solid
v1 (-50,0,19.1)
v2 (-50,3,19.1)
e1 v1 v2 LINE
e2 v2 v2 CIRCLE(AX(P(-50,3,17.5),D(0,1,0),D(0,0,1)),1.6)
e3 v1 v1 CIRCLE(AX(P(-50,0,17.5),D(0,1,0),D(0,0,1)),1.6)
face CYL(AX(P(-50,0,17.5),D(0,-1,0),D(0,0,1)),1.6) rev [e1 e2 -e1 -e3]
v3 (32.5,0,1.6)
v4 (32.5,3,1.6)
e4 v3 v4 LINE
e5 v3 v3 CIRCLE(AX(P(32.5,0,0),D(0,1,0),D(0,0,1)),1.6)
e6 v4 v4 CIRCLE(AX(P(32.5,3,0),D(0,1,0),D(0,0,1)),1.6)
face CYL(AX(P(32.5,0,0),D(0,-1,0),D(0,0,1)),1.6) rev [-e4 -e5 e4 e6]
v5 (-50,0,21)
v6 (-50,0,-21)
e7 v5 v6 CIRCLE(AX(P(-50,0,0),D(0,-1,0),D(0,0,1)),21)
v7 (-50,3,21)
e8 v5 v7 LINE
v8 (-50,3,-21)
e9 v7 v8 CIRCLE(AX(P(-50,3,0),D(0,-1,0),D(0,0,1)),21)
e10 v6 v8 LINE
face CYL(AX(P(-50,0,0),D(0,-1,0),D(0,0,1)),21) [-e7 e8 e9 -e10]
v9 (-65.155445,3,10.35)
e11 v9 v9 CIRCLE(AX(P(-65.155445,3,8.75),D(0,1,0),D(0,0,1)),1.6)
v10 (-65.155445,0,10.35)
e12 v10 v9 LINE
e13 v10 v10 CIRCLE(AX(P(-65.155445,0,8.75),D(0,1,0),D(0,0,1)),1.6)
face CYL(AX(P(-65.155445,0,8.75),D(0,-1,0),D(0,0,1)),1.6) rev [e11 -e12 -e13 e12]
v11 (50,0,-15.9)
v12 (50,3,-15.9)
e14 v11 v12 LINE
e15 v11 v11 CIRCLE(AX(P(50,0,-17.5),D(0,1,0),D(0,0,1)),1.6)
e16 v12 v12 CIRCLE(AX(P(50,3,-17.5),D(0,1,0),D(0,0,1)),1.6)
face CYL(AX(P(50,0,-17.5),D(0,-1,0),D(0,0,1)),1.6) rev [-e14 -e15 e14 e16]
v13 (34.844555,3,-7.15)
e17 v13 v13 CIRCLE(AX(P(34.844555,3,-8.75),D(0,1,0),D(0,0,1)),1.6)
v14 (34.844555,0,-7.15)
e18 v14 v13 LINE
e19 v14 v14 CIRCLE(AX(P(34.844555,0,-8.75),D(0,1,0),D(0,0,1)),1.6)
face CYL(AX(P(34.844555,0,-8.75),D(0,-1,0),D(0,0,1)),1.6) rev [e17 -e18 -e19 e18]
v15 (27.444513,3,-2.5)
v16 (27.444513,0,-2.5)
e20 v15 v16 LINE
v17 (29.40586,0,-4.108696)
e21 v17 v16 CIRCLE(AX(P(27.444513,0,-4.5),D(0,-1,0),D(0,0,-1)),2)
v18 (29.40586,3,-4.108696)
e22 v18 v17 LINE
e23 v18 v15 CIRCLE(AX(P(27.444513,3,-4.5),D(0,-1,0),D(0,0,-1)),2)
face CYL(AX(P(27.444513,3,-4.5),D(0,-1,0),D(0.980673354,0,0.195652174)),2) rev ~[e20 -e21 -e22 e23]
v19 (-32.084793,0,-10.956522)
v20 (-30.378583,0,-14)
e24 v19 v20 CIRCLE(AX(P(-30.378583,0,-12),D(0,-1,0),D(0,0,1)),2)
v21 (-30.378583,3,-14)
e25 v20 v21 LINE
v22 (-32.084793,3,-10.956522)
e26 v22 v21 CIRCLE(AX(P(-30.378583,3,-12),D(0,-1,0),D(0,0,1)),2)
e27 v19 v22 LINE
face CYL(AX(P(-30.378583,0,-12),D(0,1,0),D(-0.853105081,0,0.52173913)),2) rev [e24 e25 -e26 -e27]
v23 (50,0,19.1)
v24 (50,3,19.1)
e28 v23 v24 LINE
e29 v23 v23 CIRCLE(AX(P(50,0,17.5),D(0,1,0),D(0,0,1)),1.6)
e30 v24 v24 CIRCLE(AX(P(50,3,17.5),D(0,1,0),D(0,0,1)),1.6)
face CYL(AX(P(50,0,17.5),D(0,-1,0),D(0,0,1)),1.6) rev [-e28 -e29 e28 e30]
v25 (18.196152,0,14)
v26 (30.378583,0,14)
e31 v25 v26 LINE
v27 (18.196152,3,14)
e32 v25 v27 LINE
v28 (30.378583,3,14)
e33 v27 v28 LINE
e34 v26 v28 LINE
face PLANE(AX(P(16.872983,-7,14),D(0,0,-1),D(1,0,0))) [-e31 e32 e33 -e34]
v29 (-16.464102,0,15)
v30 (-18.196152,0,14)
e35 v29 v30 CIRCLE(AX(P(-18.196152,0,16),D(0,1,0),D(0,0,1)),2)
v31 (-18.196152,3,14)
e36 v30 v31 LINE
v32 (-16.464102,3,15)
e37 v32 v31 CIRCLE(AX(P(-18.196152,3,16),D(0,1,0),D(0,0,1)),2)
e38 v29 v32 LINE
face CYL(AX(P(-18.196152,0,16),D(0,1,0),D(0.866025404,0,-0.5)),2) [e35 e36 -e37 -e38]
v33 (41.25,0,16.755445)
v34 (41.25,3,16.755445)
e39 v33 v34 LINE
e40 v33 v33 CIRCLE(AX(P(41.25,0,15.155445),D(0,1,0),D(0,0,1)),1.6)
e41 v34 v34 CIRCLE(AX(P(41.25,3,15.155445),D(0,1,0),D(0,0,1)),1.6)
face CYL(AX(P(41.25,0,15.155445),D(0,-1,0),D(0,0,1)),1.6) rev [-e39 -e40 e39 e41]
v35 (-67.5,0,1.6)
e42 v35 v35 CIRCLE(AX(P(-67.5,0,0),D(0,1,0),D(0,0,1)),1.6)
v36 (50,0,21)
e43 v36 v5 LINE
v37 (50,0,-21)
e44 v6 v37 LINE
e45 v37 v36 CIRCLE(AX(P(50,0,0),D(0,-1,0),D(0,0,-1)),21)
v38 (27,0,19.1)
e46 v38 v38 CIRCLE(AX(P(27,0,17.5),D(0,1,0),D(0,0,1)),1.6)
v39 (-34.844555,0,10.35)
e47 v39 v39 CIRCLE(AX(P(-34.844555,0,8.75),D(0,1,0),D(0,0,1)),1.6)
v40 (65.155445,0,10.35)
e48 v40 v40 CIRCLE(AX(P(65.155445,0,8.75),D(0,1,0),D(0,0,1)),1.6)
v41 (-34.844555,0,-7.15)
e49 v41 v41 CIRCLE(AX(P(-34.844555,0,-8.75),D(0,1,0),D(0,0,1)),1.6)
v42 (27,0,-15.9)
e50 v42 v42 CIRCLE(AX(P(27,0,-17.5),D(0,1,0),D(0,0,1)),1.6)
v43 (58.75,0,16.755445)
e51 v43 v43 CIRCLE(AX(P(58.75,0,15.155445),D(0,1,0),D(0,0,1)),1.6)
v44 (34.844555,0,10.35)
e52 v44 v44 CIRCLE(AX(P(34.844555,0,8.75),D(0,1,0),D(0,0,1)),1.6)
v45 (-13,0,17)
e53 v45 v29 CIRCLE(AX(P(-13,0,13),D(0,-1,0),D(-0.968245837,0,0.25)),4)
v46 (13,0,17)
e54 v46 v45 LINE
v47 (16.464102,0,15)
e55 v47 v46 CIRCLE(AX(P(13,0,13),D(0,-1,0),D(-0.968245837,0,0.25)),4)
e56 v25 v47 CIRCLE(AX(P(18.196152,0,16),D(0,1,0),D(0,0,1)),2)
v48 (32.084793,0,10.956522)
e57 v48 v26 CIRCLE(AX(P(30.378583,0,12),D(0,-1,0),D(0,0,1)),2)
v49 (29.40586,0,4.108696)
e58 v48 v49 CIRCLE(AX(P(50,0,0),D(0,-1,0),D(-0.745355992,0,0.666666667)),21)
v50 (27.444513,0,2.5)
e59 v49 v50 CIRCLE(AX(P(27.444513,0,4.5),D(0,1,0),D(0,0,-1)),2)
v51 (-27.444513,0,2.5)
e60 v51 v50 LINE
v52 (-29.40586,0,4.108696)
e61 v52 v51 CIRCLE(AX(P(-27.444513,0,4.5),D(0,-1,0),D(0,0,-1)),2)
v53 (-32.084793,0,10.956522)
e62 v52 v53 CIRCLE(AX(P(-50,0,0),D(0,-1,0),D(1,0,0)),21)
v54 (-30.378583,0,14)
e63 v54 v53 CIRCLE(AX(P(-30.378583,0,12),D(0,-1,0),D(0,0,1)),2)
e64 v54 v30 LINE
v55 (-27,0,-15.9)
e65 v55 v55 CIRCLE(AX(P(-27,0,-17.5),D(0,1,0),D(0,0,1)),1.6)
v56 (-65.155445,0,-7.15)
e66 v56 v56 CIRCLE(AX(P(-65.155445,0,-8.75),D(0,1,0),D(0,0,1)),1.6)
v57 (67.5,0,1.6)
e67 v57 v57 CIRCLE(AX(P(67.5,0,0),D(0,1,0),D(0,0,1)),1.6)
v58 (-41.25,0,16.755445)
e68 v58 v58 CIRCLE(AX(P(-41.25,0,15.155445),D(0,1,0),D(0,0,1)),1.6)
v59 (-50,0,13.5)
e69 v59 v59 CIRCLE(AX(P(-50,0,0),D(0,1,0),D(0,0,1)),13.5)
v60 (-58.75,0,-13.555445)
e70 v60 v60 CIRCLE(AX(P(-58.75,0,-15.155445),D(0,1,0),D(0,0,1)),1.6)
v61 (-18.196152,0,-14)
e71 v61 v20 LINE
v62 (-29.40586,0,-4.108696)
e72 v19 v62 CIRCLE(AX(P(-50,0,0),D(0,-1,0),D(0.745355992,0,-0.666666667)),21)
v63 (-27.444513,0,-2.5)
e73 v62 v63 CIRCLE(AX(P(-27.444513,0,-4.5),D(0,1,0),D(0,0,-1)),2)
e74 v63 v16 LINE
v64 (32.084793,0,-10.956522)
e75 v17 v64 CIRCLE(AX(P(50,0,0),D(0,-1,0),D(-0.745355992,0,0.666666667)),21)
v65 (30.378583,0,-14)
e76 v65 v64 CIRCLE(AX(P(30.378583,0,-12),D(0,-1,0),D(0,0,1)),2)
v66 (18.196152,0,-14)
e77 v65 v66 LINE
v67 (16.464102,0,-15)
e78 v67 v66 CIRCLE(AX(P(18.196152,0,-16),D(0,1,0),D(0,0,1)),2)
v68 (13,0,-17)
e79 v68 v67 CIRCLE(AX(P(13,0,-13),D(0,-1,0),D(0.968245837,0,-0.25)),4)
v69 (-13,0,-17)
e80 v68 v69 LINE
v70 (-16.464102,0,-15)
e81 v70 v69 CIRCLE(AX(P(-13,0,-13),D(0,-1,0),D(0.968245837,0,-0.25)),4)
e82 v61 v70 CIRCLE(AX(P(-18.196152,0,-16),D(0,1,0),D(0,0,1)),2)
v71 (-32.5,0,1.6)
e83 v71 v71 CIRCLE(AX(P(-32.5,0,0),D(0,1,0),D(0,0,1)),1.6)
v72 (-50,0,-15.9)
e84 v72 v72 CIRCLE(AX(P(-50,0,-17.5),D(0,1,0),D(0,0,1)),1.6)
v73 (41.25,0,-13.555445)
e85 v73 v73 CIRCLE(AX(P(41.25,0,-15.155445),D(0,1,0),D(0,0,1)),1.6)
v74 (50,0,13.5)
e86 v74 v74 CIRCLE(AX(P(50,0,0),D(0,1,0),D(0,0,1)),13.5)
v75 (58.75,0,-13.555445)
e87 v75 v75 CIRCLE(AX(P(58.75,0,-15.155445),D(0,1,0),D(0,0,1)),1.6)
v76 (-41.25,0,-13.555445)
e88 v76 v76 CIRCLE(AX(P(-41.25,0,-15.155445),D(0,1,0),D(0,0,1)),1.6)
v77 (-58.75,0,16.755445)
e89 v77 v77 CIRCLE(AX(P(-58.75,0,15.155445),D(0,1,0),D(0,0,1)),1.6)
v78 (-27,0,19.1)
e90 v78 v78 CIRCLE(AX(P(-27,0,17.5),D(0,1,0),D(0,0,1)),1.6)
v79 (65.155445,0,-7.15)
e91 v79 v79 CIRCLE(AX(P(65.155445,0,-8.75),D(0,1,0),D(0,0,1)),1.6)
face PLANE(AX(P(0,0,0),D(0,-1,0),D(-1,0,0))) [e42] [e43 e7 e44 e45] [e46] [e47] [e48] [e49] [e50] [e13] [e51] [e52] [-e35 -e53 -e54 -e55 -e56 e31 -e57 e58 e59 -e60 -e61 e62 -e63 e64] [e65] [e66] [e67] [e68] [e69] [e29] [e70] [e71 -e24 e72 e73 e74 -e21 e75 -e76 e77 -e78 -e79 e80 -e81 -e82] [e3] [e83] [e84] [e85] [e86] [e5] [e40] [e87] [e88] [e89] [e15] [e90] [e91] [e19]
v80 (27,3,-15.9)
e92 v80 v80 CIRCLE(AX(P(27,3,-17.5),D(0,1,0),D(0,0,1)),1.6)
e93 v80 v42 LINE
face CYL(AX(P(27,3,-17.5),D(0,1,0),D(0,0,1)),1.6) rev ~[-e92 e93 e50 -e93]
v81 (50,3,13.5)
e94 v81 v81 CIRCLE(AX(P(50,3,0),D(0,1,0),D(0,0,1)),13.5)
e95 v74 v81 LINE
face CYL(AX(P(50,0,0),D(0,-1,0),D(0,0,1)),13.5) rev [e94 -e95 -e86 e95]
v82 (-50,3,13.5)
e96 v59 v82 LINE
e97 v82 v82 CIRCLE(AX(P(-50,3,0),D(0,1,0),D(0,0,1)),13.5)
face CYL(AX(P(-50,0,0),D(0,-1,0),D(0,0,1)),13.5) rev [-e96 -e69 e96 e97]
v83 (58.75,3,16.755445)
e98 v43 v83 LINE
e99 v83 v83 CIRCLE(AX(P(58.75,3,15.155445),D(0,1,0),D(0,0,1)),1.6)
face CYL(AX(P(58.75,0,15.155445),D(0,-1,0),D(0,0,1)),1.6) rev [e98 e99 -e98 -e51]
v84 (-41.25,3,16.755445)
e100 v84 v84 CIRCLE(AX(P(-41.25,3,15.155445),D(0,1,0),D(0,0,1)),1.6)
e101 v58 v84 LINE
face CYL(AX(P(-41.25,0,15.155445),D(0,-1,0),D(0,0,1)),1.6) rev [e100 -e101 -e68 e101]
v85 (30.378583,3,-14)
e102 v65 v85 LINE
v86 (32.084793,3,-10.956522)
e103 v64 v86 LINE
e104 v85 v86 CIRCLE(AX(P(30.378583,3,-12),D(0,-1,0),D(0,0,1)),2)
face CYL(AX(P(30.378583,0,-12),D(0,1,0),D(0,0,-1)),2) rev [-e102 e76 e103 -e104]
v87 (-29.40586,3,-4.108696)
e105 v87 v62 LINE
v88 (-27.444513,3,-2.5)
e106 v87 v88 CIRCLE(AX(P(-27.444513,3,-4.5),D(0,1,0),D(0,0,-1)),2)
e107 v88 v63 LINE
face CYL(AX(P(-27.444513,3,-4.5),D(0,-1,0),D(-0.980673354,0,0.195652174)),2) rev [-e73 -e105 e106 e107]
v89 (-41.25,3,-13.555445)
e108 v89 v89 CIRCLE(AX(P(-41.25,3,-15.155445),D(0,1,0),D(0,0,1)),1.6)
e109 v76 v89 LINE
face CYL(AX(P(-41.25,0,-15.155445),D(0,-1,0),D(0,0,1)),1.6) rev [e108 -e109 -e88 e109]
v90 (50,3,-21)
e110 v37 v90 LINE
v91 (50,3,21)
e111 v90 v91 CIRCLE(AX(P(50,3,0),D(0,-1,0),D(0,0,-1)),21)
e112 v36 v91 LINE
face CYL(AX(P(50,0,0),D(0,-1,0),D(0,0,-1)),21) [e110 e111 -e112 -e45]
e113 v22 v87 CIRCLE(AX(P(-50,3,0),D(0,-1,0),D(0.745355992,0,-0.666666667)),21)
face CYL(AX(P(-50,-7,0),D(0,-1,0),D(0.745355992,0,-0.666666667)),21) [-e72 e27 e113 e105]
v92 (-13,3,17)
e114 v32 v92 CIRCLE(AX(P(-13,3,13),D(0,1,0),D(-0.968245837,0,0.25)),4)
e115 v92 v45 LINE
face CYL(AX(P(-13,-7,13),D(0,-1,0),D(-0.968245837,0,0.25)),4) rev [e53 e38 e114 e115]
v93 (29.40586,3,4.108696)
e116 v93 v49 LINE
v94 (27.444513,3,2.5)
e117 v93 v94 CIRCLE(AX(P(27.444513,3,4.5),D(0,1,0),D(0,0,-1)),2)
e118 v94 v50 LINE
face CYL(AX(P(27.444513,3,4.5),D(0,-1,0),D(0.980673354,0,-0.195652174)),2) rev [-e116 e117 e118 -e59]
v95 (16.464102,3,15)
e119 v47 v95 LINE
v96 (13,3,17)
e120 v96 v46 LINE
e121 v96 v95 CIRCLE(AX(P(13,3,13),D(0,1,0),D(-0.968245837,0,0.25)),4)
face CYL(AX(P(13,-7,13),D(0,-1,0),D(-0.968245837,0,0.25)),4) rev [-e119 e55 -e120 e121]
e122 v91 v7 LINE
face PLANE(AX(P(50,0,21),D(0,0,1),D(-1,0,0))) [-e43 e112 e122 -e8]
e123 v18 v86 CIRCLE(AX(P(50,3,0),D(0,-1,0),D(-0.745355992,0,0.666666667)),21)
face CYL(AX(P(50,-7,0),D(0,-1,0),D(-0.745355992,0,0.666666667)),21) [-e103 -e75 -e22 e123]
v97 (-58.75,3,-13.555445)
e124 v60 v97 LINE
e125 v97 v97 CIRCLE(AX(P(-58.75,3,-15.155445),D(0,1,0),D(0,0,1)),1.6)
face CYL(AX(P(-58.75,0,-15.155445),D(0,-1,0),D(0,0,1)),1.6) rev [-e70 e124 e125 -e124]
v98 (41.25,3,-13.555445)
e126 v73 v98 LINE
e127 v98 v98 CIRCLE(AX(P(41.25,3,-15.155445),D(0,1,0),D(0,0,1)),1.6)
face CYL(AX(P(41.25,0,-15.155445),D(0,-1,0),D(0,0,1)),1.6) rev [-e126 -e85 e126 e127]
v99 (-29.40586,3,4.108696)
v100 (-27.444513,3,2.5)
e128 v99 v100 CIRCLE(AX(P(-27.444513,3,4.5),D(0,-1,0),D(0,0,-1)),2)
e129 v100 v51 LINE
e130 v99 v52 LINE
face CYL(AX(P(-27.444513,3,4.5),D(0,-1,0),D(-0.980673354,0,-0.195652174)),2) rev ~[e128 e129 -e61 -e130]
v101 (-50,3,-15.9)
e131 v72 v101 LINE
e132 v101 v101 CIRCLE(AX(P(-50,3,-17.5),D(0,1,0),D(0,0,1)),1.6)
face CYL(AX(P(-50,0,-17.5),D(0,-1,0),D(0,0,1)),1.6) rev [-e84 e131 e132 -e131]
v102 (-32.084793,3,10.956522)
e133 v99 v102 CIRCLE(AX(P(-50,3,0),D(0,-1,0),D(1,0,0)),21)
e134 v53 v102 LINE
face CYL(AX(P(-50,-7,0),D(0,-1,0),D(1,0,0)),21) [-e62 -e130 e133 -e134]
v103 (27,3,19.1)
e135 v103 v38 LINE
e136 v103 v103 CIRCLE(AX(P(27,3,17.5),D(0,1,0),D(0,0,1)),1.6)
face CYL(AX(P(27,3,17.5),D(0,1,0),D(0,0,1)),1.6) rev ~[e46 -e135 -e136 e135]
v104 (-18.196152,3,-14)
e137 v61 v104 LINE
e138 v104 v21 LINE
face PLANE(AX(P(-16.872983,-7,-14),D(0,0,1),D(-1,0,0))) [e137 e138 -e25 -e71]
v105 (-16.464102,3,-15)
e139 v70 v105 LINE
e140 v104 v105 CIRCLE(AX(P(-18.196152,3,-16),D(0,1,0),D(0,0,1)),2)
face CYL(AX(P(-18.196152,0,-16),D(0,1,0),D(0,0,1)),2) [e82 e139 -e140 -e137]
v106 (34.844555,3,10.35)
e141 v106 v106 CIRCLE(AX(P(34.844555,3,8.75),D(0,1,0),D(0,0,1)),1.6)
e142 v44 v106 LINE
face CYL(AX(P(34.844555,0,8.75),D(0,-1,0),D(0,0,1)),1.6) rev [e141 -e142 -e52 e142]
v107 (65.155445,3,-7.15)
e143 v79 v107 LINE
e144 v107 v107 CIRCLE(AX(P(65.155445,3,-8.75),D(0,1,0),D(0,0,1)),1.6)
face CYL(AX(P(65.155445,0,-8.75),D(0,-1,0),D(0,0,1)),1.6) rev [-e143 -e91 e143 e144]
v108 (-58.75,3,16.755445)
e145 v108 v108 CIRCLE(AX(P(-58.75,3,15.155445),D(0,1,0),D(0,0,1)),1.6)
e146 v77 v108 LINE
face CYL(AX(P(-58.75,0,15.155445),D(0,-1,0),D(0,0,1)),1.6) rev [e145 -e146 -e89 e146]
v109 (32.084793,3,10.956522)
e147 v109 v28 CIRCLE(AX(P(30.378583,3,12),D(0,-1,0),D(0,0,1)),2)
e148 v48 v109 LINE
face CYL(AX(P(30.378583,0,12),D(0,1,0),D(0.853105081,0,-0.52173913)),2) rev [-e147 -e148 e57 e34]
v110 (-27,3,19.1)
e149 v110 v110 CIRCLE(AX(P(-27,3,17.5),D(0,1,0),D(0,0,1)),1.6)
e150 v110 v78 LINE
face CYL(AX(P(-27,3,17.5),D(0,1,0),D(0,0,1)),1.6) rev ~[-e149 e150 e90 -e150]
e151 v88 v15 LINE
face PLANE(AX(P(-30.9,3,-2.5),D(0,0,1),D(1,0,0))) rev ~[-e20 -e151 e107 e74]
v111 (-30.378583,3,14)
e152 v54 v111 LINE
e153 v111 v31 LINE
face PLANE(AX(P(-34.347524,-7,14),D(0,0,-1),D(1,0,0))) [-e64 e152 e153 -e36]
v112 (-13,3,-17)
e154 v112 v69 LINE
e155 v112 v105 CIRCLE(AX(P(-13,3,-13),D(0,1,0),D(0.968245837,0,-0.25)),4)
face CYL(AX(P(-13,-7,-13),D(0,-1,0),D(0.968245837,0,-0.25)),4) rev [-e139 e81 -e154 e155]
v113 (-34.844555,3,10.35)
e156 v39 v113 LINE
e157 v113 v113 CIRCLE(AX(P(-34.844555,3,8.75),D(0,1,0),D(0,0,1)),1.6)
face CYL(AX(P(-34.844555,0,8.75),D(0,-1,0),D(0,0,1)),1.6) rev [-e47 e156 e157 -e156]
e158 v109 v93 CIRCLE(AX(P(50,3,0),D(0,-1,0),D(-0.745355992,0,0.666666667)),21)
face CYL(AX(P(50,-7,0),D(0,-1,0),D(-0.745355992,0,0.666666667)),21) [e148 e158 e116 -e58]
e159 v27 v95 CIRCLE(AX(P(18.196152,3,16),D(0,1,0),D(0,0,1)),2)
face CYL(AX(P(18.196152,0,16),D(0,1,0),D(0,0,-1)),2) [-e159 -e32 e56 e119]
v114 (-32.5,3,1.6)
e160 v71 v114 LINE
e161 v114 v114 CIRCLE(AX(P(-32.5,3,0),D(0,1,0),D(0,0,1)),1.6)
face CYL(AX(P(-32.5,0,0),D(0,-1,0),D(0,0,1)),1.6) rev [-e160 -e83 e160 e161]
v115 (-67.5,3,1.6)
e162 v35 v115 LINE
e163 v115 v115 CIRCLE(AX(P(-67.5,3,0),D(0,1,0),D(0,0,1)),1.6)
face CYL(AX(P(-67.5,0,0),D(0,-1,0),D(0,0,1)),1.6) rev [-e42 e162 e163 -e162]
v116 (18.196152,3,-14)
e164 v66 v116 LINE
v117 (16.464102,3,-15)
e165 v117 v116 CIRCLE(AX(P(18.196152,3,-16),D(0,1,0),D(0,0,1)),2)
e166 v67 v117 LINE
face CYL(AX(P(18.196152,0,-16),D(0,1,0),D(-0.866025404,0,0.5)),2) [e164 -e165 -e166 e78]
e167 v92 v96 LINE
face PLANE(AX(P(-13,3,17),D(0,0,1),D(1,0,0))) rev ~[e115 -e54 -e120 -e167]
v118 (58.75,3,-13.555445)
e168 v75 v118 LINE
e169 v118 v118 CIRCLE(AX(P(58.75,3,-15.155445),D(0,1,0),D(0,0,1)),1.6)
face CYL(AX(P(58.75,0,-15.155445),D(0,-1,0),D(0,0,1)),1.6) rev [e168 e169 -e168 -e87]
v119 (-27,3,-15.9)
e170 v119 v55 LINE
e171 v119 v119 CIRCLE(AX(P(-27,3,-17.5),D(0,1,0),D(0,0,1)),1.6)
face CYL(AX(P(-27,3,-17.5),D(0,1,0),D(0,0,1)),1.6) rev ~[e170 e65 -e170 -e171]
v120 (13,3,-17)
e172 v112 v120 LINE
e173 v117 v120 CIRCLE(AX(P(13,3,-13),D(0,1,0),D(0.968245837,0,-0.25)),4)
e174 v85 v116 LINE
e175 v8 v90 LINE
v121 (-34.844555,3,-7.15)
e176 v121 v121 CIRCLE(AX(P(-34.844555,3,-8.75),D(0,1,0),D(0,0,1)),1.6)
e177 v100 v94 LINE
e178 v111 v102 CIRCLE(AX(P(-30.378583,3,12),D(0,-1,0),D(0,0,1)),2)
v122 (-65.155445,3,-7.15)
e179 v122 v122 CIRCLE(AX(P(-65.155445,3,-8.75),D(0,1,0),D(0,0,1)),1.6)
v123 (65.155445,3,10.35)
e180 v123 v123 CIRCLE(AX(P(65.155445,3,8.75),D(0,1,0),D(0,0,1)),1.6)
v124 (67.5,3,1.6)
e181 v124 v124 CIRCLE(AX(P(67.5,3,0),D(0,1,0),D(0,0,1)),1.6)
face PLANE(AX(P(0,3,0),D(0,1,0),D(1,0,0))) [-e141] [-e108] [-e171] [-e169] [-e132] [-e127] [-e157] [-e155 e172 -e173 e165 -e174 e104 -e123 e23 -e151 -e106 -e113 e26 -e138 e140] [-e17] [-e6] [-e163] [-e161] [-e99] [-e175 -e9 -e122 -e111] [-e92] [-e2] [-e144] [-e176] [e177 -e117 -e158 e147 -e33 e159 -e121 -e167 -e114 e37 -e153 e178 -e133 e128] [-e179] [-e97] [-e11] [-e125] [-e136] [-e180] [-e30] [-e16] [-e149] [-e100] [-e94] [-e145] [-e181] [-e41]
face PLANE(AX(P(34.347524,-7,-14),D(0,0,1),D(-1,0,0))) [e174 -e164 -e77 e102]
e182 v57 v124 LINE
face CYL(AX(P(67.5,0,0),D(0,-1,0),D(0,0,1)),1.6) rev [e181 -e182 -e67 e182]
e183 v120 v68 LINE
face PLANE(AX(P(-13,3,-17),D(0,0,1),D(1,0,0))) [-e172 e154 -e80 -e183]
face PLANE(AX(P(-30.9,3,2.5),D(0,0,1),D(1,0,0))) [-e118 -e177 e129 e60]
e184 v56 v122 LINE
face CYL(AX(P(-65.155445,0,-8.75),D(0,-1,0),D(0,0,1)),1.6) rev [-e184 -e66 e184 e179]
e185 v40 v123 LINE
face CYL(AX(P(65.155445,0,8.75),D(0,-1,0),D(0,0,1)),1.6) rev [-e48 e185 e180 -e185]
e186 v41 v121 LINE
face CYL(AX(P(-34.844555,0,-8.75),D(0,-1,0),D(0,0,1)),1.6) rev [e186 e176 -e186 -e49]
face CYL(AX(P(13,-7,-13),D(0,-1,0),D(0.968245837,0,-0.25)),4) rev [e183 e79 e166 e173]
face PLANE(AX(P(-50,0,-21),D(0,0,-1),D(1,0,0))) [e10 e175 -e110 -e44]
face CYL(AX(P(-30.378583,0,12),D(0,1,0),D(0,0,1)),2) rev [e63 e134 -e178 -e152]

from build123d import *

# Parameters (mm, degrees)
SKETCH_1_R          = 13.5
SKETCH_1_R_2        = 1.6
EXTRUDE_1_DEPTH     = 3
CUT_EXTRUDE_START   = -10
CUT_EXTRUDE_1_DEPTH = 10
SKETCH_3_W          = 61.8
SKETCH_3_H          = 5
EXTRUDE_1_2_DEPTH   = 3
FILLET_1_R          = 2
SKETCH_6_W          = 26
SKETCH_6_H          = 5
CUT_EXTRUDE_2_DEPTH = 10
SKETCH_7_R          = 1.6
CUT_EXTRUDE_3_DEPTH = 10


with BuildPart() as part:
    # 草图1 → Extrude 1 (new body)
    with BuildSketch(Plane(origin=(0, 0, 0), x_dir=(1, 0, 0), z_dir=(0, 1, 0))):
        with BuildLine():
            Line((-50, 21), (50, 21))
            ThreePointArc((50, 21), (71, 0), (50, -21))
            Line((50, -21), (-50, -21))
            ThreePointArc((-50, -21), (-71, 0), (-50, 21))
        make_face()
        with Locations(Location((-50, 0, 0), (0, 0, 270))):
            Circle(SKETCH_1_R, mode=Mode.SUBTRACT)
        with Locations(Location((-50, 17.5, 0), (0, 0, 270))):
            Circle(SKETCH_1_R_2, mode=Mode.SUBTRACT)
        with Locations(Location((-13, 13, 0), (0, 0, 270))):
            Circle(SKETCH_1_R_2, mode=Mode.SUBTRACT)
        with Locations(Location((-13, -13, 0), (0, 0, 270))):
            Circle(SKETCH_1_R_2, mode=Mode.SUBTRACT)
        with Locations(Location((-41.25, 15.155444566, 0), (0, 0, 270))):
            Circle(SKETCH_1_R_2, mode=Mode.SUBTRACT)
        with Locations(Location((-34.844555434, 8.75, 0), (0, 0, 270))):
            Circle(SKETCH_1_R_2, mode=Mode.SUBTRACT)
        with Locations(Location((-32.5, 0, 0), (0, 0, 270))):
            Circle(SKETCH_1_R_2, mode=Mode.SUBTRACT)
        with Locations(Location((-34.844555434, -8.75, 0), (0, 0, 270))):
            Circle(SKETCH_1_R_2, mode=Mode.SUBTRACT)
        with Locations(Location((-41.25, -15.155444566, 0), (0, 0, 270))):
            Circle(SKETCH_1_R_2, mode=Mode.SUBTRACT)
        with Locations(Location((-50, -17.5, 0), (0, 0, 270))):
            Circle(SKETCH_1_R_2, mode=Mode.SUBTRACT)
        with Locations(Location((-58.75, -15.155444566, 0), (0, 0, 270))):
            Circle(SKETCH_1_R_2, mode=Mode.SUBTRACT)
        with Locations(Location((-65.155444566, -8.75, 0), (0, 0, 270))):
            Circle(SKETCH_1_R_2, mode=Mode.SUBTRACT)
        with Locations(Location((-67.5, 0, 0), (0, 0, 270))):
            Circle(SKETCH_1_R_2, mode=Mode.SUBTRACT)
        with Locations(Location((-65.155444566, 8.75, 0), (0, 0, 270))):
            Circle(SKETCH_1_R_2, mode=Mode.SUBTRACT)
        with Locations(Location((-58.75, 15.155444566, 0), (0, 0, 270))):
            Circle(SKETCH_1_R_2, mode=Mode.SUBTRACT)
        with Locations(Location((58.75, 15.155444566, 0), (0, 0, 270))):
            Circle(SKETCH_1_R_2, mode=Mode.SUBTRACT)
        with Locations(Location((65.155444566, 8.75, 0), (0, 0, 270))):
            Circle(SKETCH_1_R_2, mode=Mode.SUBTRACT)
        with Locations(Location((67.5, 0, 0), (0, 0, 270))):
            Circle(SKETCH_1_R_2, mode=Mode.SUBTRACT)
        with Locations(Location((65.155444566, -8.75, 0), (0, 0, 270))):
            Circle(SKETCH_1_R_2, mode=Mode.SUBTRACT)
        with Locations(Location((58.75, -15.155444566, 0), (0, 0, 270))):
            Circle(SKETCH_1_R_2, mode=Mode.SUBTRACT)
        with Locations(Location((50, -17.5, 0), (0, 0, 270))):
            Circle(SKETCH_1_R_2, mode=Mode.SUBTRACT)
        with Locations(Location((41.25, -15.155444566, 0), (0, 0, 270))):
            Circle(SKETCH_1_R_2, mode=Mode.SUBTRACT)
        with Locations(Location((34.844555434, -8.75, 0), (0, 0, 270))):
            Circle(SKETCH_1_R_2, mode=Mode.SUBTRACT)
        with Locations(Location((32.5, 0, 0), (0, 0, 270))):
            Circle(SKETCH_1_R_2, mode=Mode.SUBTRACT)
        with Locations(Location((41.25, 15.155444566, 0), (0, 0, 270))):
            Circle(SKETCH_1_R_2, mode=Mode.SUBTRACT)
        with Locations(Location((13, -13, 0), (0, 0, 270))):
            Circle(SKETCH_1_R_2, mode=Mode.SUBTRACT)
        with Locations(Location((13, 13, 0), (0, 0, 270))):
            Circle(SKETCH_1_R_2, mode=Mode.SUBTRACT)
        with Locations(Location((50, 17.5, 0), (0, 0, 270))):
            Circle(SKETCH_1_R_2, mode=Mode.SUBTRACT)
        with Locations(Location((50, 0, 0), (0, 0, 270))):
            Circle(SKETCH_1_R, mode=Mode.SUBTRACT)
        with Locations(Location((34.844555434, 8.75, 0), (0, 0, 270))):
            Circle(SKETCH_1_R_2, mode=Mode.SUBTRACT)
    extrude(amount=EXTRUDE_1_DEPTH)

    # 草图2 → 切除-拉伸1 (cut)
    with BuildSketch(Plane(origin=(0, 3, 0), x_dir=(1, 0, 0), z_dir=(0, 1, 0)).offset(CUT_EXTRUDE_START)):
        with BuildLine():
            Line((-16.872983346, 14), (-34.347524158, 14))
            ThreePointArc((-34.347524158, 14), (-30.382380462, 7.493263885), (-29, 0))
            ThreePointArc((-29, 0), (-30.382380462, -7.493263885), (-34.347524158, -14))
            Line((-34.347524158, -14), (-16.872983346, -14))
            ThreePointArc((-16.872983346, -14), (-13.50401717, -9.031881215), (-9, -13))
            ThreePointArc((-9, -13), (-9.031881215, -13.50401717), (-9.127016654, -14))
            Line((-9.127016654, -14), (9.127016654, -14))
            ThreePointArc((9.127016654, -14), (12.49598283, -9.031881215), (17, -13))
            ThreePointArc((17, -13), (16.968118785, -13.50401717), (16.872983346, -14))
            Line((16.872983346, -14), (34.347524158, -14))
            ThreePointArc((34.347524158, -14), (29, 0), (34.347524158, 14))
            Line((34.347524158, 14), (16.872983346, 14))
            ThreePointArc((16.872983346, 14), (16.968118785, 13.50401717), (17, 13))
            ThreePointArc((17, 13), (12.49598283, 9.031881215), (9.127016654, 14))
            Line((9.127016654, 14), (-9.127016654, 14))
            ThreePointArc((-9.127016654, 14), (-9.031881215, 13.50401717), (-9, 13))
            ThreePointArc((-9, 13), (-13.50401717, 9.031881215), (-16.872983346, 14))
        make_face()
        with BuildLine():
            ThreePointArc((-9, -13), (-13.50401717, -9.031881215), (-16.872983346, -14))
            Line((-16.872983346, -14), (-14.2489996, -14))
            ThreePointArc((-14.2489996, -14), (-13.529905954, -11.490298149), (-11.4, -13))
            ThreePointArc((-11.4, -13), (-11.490298149, -13.529905954), (-11.7510004, -14))
            Line((-11.7510004, -14), (-9.127016654, -14))
            ThreePointArc((-9.127016654, -14), (-9.031881215, -13.50401717), (-9, -13))
        make_face()
        with BuildLine():
            Line((-14.2489996, -14), (-16.872983346, -14))
            ThreePointArc((-16.872983346, -14), (-13, -17), (-9.127016654, -14))
            Line((-9.127016654, -14), (-11.7510004, -14))
            ThreePointArc((-11.7510004, -14), (-13, -14.6), (-14.2489996, -14))
        make_face()
        with BuildLine():
            ThreePointArc((17, -13), (12.49598283, -9.031881215), (9.127016654, -14))
            Line((9.127016654, -14), (11.7510004, -14))
            ThreePointArc((11.7510004, -14), (12.470094046, -11.490298149), (14.6, -13))
            ThreePointArc((14.6, -13), (14.509701851, -13.529905954), (14.2489996, -14))
            Line((14.2489996, -14), (16.872983346, -14))
            ThreePointArc((16.872983346, -14), (16.968118785, -13.50401717), (17, -13))
        make_face()
        with BuildLine():
            Line((11.7510004, -14), (9.127016654, -14))
            ThreePointArc((9.127016654, -14), (13, -17), (16.872983346, -14))
            Line((16.872983346, -14), (14.2489996, -14))
            ThreePointArc((14.2489996, -14), (13, -14.6), (11.7510004, -14))
        make_face()
        with BuildLine():
            ThreePointArc((-9.127016654, 14), (-13, 17), (-16.872983346, 14))
            Line((-16.872983346, 14), (-14.2489996, 14))
            ThreePointArc((-14.2489996, 14), (-13, 14.6), (-11.7510004, 14))
            Line((-11.7510004, 14), (-9.127016654, 14))
        make_face()
        with BuildLine():
            Line((-14.2489996, 14), (-16.872983346, 14))
            ThreePointArc((-16.872983346, 14), (-13.50401717, 9.031881215), (-9, 13))
            ThreePointArc((-9, 13), (-9.031881215, 13.50401717), (-9.127016654, 14))
            Line((-9.127016654, 14), (-11.7510004, 14))
            ThreePointArc((-11.7510004, 14), (-11.490298149, 13.529905954), (-11.4, 13))
            ThreePointArc((-11.4, 13), (-13.529905954, 11.490298149), (-14.2489996, 14))
        make_face()
        with BuildLine():
            ThreePointArc((16.872983346, 14), (13, 17), (9.127016654, 14))
            Line((9.127016654, 14), (11.7510004, 14))
            ThreePointArc((11.7510004, 14), (13, 14.6), (14.2489996, 14))
            Line((14.2489996, 14), (16.872983346, 14))
        make_face()
        with BuildLine():
            Line((11.7510004, 14), (9.127016654, 14))
            ThreePointArc((9.127016654, 14), (12.49598283, 9.031881215), (17, 13))
            ThreePointArc((17, 13), (16.968118785, 13.50401717), (16.872983346, 14))
            Line((16.872983346, 14), (14.2489996, 14))
            ThreePointArc((14.2489996, 14), (14.509701851, 13.529905954), (14.6, 13))
            ThreePointArc((14.6, 13), (12.470094046, 11.490298149), (11.7510004, 14))
        make_face()
    extrude(amount=CUT_EXTRUDE_1_DEPTH, mode=Mode.SUBTRACT)

    # 草图3 → Extrude 1 2 (add)
    with BuildSketch(Plane(origin=(0, 3, 0), x_dir=(1, 0, 0), z_dir=(0, 1, 0))):
        Rectangle(SKETCH_3_W, SKETCH_3_H)
    extrude(amount=-EXTRUDE_1_2_DEPTH)

    # 圆角1
    fillet_1_edges = [part.edges().sort_by_distance(p)[0] for p in [
        (-9.127016654, 1.5, 14),
        (-16.872983346, 1.5, 14),
        (-34.347524158, 1.5, 14),
        (-34.347524158, 1.5, -14),
        (-16.872983346, 1.5, -14),
        (-9.127016654, 1.5, -14),
        (9.127016654, 1.5, -14),
        (16.872983346, 1.5, -14),
        (34.347524158, 1.5, -14),
        (34.347524158, 1.5, 14),
        (16.872983346, 1.5, 14),
        (9.127016654, 1.5, 14),
        (29.149340538, 1.5, -2.5),
        (29.149340538, 1.5, 2.5),
        (-29.149340538, 1.5, -2.5),
        (-29.149340538, 1.5, 2.5),
    ]]
    fillet(fillet_1_edges, radius=FILLET_1_R)

    # 草图6 → 切除-拉伸2 (cut)
    with BuildSketch(Plane(origin=(0, 3, 0), x_dir=(1, 0, 0), z_dir=(0, 1, 0))):
        with Locations((0, -14.5)):
            Rectangle(SKETCH_6_W, SKETCH_6_H)
        with Locations((0, 14.5)):
            Rectangle(SKETCH_6_W, SKETCH_6_H)
    extrude(amount=-CUT_EXTRUDE_2_DEPTH, mode=Mode.SUBTRACT)

    # 草图7 → 切除-拉伸3 (cut)
    with BuildSketch(Plane(origin=(0, 3, 0), x_dir=(1, 0, 0), z_dir=(0, 1, 0))):
        with Locations(Location((27, -17.5, 0), (0, 0, 270))):
            Circle(SKETCH_7_R)
        with Locations(Location((27, 17.5, 0), (0, 0, 270))):
            Circle(SKETCH_7_R)
        with Locations(Location((-27, 17.5, 0), (0, 0, 270))):
            Circle(SKETCH_7_R)
        with Locations(Location((-27, -17.5, 0), (0, 0, 270))):
            Circle(SKETCH_7_R)
    extrude(amount=-CUT_EXTRUDE_3_DEPTH, mode=Mode.SUBTRACT)


solid = part.part
